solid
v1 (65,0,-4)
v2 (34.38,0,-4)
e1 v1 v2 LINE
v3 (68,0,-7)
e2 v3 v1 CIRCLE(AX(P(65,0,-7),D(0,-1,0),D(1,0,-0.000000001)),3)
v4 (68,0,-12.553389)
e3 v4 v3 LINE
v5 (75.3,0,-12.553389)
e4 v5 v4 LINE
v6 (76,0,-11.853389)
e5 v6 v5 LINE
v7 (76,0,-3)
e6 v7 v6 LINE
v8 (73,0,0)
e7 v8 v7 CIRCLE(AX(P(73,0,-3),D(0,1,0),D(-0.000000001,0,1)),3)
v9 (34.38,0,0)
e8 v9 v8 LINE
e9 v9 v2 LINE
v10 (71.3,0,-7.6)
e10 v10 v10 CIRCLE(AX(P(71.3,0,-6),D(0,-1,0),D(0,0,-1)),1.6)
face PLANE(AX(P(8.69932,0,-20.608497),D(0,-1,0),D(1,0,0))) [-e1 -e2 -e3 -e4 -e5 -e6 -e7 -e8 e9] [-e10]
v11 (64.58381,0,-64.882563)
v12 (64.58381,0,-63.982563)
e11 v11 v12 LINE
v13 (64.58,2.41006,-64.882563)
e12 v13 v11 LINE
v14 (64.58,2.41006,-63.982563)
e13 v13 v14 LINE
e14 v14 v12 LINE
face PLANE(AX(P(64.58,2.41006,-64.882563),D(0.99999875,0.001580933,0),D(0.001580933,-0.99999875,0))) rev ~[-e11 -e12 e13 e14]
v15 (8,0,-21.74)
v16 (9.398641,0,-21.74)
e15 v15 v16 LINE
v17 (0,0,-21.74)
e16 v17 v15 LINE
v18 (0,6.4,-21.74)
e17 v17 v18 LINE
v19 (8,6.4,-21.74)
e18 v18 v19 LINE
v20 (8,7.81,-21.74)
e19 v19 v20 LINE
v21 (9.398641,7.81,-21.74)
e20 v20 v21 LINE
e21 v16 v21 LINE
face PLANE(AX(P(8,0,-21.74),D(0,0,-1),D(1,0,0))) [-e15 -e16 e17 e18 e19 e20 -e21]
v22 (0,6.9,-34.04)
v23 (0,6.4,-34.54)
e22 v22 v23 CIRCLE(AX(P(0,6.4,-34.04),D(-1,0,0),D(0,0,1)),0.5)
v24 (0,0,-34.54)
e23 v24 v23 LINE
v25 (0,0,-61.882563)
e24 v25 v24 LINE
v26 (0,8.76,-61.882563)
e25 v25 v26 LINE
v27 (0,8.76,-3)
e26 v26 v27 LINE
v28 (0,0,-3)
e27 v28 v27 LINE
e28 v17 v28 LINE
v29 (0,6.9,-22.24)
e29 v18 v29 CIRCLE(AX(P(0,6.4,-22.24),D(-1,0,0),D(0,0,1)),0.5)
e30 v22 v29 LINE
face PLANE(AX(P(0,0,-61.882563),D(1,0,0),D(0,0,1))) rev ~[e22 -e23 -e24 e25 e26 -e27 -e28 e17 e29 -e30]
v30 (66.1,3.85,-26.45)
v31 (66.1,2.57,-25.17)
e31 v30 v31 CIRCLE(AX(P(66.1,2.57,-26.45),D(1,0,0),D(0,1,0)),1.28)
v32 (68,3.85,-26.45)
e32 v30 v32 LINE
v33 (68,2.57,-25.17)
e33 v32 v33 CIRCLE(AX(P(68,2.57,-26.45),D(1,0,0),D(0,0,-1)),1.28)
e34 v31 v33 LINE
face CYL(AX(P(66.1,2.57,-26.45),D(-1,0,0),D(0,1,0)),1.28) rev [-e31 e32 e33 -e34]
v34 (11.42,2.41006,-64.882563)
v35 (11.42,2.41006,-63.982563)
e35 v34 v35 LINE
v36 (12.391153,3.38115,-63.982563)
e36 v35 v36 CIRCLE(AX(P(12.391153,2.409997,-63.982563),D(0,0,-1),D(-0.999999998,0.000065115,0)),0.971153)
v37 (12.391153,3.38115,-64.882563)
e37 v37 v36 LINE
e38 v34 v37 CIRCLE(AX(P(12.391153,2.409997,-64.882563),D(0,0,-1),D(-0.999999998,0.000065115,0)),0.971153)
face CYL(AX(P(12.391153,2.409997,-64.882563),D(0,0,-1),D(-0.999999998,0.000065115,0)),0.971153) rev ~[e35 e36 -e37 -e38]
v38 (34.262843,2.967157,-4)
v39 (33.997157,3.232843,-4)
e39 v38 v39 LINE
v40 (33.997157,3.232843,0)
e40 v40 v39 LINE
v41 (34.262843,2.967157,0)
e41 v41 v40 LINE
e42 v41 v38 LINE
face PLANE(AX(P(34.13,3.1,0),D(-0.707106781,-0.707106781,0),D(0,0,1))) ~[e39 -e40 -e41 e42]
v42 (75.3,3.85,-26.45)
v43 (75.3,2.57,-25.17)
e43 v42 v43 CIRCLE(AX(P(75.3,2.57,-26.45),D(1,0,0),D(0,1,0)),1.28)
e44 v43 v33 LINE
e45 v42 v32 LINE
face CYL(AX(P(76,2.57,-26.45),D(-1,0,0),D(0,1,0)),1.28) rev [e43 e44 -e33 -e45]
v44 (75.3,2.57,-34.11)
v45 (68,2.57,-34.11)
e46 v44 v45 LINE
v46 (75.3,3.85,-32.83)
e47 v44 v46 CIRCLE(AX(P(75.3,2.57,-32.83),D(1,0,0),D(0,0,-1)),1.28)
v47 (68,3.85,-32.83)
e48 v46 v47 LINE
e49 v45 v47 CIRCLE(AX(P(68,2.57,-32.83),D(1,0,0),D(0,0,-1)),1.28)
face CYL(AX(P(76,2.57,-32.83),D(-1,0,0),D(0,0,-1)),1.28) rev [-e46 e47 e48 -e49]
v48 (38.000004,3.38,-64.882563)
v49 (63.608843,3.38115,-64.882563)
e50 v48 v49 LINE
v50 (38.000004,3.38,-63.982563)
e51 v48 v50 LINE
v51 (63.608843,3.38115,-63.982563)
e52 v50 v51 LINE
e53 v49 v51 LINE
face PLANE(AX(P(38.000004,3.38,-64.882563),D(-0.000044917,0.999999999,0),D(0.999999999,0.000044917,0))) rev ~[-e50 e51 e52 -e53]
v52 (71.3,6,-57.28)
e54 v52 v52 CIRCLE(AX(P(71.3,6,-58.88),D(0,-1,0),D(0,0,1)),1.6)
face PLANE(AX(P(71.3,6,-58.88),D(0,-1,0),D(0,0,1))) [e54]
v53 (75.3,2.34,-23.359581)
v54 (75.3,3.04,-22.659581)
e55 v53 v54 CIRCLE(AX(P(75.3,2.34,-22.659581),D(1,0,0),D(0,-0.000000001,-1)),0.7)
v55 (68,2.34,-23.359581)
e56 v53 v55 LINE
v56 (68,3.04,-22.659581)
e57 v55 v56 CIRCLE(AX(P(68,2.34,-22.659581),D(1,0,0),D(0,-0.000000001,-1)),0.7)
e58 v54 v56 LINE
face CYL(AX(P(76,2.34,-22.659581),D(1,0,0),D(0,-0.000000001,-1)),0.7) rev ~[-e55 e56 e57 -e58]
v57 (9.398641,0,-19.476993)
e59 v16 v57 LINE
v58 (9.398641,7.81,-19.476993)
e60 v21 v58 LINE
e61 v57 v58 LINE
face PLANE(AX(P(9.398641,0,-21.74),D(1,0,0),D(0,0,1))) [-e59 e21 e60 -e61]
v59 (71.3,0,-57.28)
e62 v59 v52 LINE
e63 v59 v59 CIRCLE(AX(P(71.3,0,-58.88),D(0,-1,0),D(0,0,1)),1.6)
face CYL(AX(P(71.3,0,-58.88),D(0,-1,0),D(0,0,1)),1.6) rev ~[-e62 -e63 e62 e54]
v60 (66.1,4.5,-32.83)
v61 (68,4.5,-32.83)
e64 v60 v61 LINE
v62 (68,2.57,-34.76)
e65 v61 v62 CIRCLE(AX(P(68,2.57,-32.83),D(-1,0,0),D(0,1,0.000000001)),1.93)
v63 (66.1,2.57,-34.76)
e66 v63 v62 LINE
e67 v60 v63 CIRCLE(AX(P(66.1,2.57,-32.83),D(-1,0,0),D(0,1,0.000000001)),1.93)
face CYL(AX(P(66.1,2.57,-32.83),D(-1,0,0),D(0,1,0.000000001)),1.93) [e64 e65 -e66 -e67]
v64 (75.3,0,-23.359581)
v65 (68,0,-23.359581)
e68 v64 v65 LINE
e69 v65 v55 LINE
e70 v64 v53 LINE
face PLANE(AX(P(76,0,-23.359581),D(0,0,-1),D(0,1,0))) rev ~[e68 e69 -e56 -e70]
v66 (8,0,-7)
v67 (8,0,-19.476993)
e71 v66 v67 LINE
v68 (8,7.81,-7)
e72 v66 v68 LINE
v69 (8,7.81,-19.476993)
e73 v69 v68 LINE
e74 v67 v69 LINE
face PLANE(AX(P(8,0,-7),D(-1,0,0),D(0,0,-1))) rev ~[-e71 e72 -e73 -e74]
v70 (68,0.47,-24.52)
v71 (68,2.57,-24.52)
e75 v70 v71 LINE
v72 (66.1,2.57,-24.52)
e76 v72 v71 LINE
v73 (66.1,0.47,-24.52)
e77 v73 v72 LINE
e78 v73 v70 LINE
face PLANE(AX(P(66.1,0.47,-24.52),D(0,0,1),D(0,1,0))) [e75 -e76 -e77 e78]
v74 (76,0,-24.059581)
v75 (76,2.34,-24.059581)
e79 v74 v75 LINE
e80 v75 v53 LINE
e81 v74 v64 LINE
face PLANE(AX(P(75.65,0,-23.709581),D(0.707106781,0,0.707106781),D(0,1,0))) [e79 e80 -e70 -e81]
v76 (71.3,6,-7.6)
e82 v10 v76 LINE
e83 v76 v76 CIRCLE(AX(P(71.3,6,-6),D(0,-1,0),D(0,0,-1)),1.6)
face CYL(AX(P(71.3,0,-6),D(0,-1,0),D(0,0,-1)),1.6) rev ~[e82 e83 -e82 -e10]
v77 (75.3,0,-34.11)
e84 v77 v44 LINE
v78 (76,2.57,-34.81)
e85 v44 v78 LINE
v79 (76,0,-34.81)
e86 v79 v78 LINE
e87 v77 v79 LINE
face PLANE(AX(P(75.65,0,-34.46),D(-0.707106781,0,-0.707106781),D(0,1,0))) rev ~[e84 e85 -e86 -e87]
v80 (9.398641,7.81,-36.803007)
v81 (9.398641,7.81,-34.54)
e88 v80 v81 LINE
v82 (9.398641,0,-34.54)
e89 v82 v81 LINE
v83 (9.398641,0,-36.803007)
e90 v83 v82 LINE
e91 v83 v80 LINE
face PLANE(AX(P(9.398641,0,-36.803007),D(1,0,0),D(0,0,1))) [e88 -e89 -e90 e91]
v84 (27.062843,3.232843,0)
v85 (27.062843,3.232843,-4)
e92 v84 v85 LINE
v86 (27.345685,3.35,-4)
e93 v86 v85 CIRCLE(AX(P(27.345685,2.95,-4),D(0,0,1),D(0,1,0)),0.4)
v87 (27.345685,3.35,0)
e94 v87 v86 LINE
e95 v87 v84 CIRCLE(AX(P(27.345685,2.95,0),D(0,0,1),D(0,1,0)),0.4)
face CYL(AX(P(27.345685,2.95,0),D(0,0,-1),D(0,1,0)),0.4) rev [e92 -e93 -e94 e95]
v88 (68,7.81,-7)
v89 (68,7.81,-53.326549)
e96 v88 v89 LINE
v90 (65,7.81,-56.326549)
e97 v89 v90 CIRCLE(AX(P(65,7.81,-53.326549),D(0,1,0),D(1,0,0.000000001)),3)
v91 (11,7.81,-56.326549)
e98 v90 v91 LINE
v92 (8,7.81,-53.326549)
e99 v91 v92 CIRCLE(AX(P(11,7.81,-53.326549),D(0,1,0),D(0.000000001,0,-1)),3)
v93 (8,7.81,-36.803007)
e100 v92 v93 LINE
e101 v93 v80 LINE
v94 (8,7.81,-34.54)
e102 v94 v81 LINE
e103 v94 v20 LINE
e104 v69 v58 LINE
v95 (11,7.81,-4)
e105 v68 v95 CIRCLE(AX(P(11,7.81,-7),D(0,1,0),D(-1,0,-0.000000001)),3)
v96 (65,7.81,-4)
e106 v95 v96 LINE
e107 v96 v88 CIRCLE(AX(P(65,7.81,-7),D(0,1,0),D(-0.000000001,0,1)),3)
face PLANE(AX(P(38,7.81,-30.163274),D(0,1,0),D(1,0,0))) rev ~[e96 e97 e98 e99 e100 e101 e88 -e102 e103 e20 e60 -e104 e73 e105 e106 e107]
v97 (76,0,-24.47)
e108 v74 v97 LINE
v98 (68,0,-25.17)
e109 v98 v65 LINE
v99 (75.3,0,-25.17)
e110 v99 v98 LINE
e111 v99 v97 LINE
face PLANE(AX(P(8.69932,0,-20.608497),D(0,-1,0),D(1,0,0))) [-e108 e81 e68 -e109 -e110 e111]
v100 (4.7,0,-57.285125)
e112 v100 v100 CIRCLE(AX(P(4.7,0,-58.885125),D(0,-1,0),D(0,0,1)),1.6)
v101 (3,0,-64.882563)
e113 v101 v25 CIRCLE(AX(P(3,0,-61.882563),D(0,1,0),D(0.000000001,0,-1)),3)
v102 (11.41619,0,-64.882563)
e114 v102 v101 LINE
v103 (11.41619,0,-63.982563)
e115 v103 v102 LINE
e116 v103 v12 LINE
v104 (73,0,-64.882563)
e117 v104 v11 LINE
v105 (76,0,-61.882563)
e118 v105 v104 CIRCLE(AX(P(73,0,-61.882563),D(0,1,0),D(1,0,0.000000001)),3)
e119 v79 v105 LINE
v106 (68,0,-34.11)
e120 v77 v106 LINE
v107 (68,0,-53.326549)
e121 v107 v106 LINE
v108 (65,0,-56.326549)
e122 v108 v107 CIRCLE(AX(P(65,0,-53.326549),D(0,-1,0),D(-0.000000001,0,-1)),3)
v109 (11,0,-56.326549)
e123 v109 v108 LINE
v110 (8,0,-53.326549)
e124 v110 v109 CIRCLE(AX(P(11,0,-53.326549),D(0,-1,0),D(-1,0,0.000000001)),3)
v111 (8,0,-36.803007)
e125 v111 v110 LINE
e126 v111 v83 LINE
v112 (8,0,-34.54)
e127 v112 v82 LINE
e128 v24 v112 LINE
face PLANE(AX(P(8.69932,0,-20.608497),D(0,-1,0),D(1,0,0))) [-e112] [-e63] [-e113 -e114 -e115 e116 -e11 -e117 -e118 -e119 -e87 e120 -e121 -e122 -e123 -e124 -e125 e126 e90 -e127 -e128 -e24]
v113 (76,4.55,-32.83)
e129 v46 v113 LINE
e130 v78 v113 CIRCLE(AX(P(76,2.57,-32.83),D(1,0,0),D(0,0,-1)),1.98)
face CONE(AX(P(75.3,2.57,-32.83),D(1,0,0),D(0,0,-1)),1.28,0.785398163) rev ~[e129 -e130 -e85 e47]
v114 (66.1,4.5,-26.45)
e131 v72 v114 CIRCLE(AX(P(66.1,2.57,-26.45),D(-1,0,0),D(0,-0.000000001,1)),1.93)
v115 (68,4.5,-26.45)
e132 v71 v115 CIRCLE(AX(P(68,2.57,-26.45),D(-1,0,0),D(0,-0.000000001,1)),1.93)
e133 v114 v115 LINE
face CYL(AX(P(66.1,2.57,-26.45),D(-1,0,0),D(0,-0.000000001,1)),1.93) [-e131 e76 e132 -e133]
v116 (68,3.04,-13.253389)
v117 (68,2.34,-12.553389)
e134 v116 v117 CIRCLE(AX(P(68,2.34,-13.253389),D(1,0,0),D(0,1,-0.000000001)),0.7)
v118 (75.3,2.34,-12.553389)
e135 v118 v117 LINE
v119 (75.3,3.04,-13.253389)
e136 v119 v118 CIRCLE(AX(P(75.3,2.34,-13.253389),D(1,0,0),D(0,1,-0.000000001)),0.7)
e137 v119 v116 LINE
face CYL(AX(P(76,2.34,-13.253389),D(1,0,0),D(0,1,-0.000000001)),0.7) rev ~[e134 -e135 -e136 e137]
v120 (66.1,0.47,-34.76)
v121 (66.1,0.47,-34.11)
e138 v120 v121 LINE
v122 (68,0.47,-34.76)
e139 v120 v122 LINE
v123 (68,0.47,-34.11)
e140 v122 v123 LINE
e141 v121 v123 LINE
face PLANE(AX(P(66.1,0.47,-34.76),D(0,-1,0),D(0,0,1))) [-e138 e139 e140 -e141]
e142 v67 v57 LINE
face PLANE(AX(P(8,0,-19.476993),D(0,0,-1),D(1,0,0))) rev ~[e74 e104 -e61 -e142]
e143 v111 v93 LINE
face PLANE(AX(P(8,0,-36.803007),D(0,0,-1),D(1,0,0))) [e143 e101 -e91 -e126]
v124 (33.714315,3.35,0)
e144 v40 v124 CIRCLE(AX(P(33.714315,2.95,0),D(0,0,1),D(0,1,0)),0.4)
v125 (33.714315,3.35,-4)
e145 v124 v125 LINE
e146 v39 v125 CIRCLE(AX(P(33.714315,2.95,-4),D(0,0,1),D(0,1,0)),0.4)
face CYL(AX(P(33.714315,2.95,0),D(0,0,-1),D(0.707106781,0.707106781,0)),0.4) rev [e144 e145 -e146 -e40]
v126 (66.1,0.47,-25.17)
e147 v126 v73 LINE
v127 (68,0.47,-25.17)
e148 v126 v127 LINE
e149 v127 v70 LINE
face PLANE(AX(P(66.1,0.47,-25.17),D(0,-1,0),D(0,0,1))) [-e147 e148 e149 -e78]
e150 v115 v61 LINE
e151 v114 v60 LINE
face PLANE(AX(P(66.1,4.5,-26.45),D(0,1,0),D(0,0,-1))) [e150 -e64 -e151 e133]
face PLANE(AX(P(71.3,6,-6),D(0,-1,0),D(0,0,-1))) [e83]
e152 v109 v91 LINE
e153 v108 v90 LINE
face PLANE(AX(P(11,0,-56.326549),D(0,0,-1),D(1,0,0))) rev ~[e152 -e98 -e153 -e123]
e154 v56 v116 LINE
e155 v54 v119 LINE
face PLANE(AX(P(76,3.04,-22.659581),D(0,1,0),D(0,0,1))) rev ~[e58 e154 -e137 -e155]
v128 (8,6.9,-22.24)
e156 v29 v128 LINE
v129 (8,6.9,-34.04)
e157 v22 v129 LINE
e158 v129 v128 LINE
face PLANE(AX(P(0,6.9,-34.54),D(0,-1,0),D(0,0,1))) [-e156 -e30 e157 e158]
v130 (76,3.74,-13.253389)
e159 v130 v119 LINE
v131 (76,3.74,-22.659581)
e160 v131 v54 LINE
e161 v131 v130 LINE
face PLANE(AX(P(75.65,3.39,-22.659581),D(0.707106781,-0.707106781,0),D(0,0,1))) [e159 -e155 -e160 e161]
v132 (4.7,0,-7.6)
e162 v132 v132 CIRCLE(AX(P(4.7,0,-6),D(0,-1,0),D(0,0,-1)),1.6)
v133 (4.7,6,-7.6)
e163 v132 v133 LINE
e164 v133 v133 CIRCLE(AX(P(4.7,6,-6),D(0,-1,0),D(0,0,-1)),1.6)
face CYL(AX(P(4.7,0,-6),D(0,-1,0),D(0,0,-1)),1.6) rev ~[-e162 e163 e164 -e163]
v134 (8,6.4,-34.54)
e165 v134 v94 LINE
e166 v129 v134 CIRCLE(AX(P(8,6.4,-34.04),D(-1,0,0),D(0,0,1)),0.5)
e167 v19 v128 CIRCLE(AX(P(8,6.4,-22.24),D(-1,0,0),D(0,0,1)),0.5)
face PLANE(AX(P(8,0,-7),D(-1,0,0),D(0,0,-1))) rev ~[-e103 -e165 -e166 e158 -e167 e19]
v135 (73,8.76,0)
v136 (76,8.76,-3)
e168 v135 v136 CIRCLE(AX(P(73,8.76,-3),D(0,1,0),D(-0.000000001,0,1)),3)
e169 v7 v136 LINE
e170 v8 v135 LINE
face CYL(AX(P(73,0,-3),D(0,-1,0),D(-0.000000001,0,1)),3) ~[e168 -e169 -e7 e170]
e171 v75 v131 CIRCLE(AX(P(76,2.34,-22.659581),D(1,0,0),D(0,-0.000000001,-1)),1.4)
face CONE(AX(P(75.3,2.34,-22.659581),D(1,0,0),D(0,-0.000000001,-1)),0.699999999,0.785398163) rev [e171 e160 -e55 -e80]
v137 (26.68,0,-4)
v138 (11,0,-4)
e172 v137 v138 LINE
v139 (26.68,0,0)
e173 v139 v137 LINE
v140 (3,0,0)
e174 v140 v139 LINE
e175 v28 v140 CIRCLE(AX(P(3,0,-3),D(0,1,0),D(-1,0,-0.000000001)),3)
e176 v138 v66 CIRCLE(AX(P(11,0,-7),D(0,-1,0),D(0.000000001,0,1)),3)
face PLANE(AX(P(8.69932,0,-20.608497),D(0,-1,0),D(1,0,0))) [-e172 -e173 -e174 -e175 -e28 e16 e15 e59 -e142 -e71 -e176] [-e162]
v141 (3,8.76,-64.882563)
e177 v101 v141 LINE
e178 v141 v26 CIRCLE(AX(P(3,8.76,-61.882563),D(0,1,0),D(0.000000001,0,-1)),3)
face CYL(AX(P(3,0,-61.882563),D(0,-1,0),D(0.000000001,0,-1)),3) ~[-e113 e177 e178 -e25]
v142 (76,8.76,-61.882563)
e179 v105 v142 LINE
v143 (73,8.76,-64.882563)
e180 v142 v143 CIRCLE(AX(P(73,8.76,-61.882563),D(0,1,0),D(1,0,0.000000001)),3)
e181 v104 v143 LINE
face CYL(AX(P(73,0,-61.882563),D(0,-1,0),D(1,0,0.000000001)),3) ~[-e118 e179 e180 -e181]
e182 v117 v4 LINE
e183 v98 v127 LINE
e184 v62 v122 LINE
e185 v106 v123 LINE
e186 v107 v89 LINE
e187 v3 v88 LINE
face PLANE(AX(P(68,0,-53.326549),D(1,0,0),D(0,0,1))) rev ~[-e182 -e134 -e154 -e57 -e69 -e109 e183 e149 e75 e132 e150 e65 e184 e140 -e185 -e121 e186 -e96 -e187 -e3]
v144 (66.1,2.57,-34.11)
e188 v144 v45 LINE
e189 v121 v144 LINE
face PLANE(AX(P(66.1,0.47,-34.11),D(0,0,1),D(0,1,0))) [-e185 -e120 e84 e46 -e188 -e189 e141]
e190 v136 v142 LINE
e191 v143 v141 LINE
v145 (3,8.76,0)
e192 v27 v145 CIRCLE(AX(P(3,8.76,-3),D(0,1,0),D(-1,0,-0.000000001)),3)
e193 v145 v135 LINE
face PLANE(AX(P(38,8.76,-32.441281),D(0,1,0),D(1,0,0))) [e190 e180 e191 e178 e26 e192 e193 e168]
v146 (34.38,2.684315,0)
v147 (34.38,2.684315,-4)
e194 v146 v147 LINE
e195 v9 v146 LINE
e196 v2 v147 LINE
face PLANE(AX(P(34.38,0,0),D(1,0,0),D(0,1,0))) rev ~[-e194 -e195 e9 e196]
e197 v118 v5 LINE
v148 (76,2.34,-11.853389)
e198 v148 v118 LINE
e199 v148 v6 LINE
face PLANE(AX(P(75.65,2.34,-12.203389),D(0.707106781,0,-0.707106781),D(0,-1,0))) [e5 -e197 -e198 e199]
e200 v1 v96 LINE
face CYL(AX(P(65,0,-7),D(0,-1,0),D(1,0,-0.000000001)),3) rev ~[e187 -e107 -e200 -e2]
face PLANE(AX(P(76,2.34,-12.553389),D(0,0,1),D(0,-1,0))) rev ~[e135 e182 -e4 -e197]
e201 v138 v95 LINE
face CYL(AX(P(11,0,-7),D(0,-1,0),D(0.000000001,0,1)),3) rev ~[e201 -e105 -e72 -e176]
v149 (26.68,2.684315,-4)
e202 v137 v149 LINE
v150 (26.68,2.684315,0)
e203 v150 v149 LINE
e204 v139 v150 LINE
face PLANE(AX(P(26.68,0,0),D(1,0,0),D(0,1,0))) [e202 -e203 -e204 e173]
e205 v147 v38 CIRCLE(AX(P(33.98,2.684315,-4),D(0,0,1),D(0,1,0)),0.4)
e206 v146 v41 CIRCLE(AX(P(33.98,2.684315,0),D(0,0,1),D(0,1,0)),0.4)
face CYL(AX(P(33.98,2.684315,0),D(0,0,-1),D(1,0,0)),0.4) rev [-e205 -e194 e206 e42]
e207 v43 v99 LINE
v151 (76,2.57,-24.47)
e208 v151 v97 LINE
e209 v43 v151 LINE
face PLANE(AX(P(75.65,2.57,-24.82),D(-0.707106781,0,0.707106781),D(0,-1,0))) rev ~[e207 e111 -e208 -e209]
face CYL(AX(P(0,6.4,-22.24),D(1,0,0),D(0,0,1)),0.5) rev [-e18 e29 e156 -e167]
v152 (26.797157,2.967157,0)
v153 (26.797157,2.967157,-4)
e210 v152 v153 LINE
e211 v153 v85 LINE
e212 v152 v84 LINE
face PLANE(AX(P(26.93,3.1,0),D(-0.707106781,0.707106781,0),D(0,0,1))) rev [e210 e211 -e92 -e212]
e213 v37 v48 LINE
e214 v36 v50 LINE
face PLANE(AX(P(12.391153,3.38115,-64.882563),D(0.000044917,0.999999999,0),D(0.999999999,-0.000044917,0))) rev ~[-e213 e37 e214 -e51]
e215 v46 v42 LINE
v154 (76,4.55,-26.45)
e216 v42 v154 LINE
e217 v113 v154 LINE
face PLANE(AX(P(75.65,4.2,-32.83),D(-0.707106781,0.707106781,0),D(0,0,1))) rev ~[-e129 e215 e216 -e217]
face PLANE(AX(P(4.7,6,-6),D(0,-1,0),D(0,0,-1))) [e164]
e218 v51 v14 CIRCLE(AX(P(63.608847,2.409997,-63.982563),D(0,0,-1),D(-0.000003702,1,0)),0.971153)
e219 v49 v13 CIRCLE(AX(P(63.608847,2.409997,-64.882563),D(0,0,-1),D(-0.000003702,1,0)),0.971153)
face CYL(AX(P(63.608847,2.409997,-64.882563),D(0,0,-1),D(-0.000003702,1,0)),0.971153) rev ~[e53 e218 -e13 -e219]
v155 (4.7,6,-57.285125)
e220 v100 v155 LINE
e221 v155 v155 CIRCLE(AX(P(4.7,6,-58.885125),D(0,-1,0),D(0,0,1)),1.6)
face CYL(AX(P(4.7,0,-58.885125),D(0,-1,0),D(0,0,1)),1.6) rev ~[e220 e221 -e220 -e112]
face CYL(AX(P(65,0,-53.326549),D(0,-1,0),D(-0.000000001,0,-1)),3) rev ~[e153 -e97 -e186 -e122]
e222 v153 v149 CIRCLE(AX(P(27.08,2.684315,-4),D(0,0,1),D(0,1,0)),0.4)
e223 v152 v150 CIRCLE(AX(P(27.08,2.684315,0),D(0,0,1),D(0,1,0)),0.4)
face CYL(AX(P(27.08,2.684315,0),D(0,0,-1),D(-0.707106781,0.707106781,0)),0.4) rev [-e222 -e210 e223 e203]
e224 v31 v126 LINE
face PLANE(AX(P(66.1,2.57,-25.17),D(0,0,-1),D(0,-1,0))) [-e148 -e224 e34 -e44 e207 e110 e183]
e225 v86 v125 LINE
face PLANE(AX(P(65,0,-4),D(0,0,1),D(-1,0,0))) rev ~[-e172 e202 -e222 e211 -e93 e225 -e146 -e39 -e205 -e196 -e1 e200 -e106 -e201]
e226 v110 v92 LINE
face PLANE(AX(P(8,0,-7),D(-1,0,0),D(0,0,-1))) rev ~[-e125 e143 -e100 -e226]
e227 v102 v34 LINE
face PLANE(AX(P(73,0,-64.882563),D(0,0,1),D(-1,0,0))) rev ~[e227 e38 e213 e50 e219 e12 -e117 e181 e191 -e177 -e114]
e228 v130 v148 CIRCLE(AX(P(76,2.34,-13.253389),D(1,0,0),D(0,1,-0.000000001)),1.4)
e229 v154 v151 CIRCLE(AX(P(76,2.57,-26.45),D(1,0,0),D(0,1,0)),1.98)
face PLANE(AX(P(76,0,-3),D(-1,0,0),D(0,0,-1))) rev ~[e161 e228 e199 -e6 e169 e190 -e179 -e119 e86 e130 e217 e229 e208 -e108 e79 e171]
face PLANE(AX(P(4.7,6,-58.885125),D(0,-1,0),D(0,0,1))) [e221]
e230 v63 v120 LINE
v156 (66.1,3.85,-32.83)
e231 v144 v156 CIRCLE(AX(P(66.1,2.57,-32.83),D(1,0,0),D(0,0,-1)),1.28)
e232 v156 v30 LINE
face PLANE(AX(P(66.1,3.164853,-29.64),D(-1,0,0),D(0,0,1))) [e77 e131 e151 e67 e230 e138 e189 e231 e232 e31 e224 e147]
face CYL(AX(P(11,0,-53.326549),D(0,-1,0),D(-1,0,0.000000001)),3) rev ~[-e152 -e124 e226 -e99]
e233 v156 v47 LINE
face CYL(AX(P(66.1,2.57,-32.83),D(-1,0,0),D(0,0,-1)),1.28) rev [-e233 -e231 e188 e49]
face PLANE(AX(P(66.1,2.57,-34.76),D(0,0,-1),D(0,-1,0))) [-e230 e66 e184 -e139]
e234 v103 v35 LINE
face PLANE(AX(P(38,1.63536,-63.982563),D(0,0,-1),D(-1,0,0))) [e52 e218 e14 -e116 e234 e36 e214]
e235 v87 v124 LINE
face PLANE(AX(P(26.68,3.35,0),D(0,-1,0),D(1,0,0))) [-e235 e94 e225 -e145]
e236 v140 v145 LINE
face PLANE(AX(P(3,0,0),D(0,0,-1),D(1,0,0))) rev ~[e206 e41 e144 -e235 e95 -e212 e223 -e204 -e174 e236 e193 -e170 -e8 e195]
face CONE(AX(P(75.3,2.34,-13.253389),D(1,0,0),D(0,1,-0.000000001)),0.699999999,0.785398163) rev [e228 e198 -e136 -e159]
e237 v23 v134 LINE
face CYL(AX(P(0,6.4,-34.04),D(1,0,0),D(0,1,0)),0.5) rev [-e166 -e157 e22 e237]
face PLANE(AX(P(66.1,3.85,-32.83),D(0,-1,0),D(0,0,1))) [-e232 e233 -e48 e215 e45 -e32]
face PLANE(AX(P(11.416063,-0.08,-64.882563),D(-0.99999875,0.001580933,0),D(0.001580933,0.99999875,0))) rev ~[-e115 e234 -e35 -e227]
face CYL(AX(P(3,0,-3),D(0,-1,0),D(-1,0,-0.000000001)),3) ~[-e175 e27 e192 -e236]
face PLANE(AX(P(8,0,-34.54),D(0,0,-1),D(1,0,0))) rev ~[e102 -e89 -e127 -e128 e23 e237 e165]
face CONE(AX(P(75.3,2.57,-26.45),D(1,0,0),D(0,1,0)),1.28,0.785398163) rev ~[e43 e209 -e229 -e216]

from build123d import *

# Parameters (mm, degrees)
BOSS_EXTRUDE1_DEPTH = 8.76
BOSS_EXTRUDE2_START = -0.95
BOSS_EXTRUDE2_DEPTH = 0.95
SKETCH4_W           = 12.8
SKETCH4_H           = 6.9
CUT_EXTRUDE1_DEPTH  = 8
SKETCH5_W           = 1.3986406
SKETCH5_H           = 2.263006611
BOSS_EXTRUDE3_DEPTH = 7.81
CUT_EXTRUDE2_DEPTH  = 8
FILLET1_R           = 0.5
SKETCH8_W           = 8.94
SKETCH8_H           = 3.85
CUT_EXTRUDE6_DEPTH  = 8
FILLET2_R           = 1.28
BOSS_EXTRUDE5_START = 1.9
BOSS_EXTRUDE5_DEPTH = 1.9
CHAMFER1_SIZE       = 0.7
SKETCH14_R          = 1.6
CUT_EXTRUDE10_DEPTH = 6
SKETCH16_R          = 1.6
CUT_EXTRUDE11_DEPTH = 6
CUT_EXTRUDE12_DEPTH = 0.9
SKETCH19_W          = 7.7
SKETCH19_H          = 3.35
CUT_EXTRUDE13_DEPTH = 4
CHAMFER2_SIZE       = 0.5
FILLET3_R           = 0.4


with BuildPart() as part:
    # Sketch1 → Boss-Extrude1 (new body)
    with BuildSketch(Plane(origin=(0, 0, 0), x_dir=(1, 0, 0), z_dir=(0, 1, 0))):
        with BuildLine():
            ThreePointArc((0, 3), (0.878679656, 0.878679656), (3, 0))
            Line((3, 0), (73, 0))
            ThreePointArc((73, 0), (75.121320344, 0.878679656), (76, 3))
            Line((76, 3), (76, 55.62))
            Line((76, 55.62), (76, 57.326548644))
            Line((76, 57.326548644), (76, 61.882562509))
            ThreePointArc((76, 61.882562509), (75.121320344, 64.003882853), (73, 64.882562509))
            Line((73, 64.882562509), (3, 64.882562509))
            ThreePointArc((3, 64.882562509), (0.878679656, 64.003882853), (0, 61.882562509))
            Line((0, 61.882562509), (0, 57.326548644))
            Line((0, 57.326548644), (0, 55.62))
            Line((0, 55.62), (0, 3))
        make_face()
        with BuildLine():
            Line((65, 4), (11, 4))
            ThreePointArc((11, 4), (8.878679656, 4.878679656), (8, 7))
            Line((8, 7), (8, 53.326548644))
            ThreePointArc((8, 53.326548644), (8.878679656, 55.447868988), (11, 56.326548644))
            Line((11, 56.326548644), (65, 56.326548644))
            ThreePointArc((65, 56.326548644), (67.121320344, 55.447868988), (68, 53.326548644))
            Line((68, 53.326548644), (68, 7))
            ThreePointArc((68, 7), (67.121320344, 4.878679656), (65, 4))
        make_face(mode=Mode.SUBTRACT)
    extrude(amount=BOSS_EXTRUDE1_DEPTH)

    # Sketch2 → Boss-Extrude2 (add)
    with BuildSketch(Plane(origin=(0, 8.76, 0), x_dir=(1, 0, 0), z_dir=(0, 1, 0)).offset(BOSS_EXTRUDE2_START)):
        with BuildLine():
            Line((8, 48.62), (8, 7))
            ThreePointArc((8, 7), (8.878679656, 4.878679656), (11, 4))
            Line((11, 4), (65, 4))
            ThreePointArc((65, 4), (67.121320344, 4.878679656), (68, 7))
            Line((68, 7), (68, 48.62))
            Line((68, 48.62), (68, 53.326548644))
            ThreePointArc((68, 53.326548644), (67.121320344, 55.447868988), (65, 56.326548644))
            Line((65, 56.326548644), (11, 56.326548644))
            ThreePointArc((11, 56.326548644), (8.878679656, 55.447868988), (8, 53.326548644))
            Line((8, 53.326548644), (8, 48.62))
        make_face()
    extrude(amount=BOSS_EXTRUDE2_DEPTH)

    # Sketch4 → Cut-Extrude1 (cut)
    with BuildSketch(Plane.ZY):
        with Locations((-28.14, 3.45)):
            Rectangle(SKETCH4_W, SKETCH4_H)
    extrude(amount=-CUT_EXTRUDE1_DEPTH, mode=Mode.SUBTRACT)

    # Sketch5 → Boss-Extrude3 (add)
    with BuildSketch(Plane.XZ):
        with Locations((8.6993203, -20.608496695)):
            Rectangle(SKETCH5_W, SKETCH5_H)
        with Locations((8.6993203, -35.671503305)):
            Rectangle(SKETCH5_W, SKETCH5_H)
    extrude(amount=-BOSS_EXTRUDE3_DEPTH)

    # Sketch6 → Cut-Extrude2 (cut)
    with BuildSketch(Plane(origin=(76, 0, 0), x_dir=(0, 0, -1), z_dir=(1, 0, 0))):
        with BuildLine():
            Line((12.55338903, 2.34), (12.55338903, 0))
            Line((12.55338903, 0), (23.359580852, 0))
            Line((23.359580852, 0), (23.359580852, 2.34))
            ThreePointArc((23.359580852, 2.34), (23.154555599, 2.834974747), (22.659580852, 3.04))
            Line((22.659580852, 3.04), (13.25338903, 3.04))
            ThreePointArc((13.25338903, 3.04), (12.758414283, 2.834974747), (12.55338903, 2.34))
        make_face()
    extrude(amount=-CUT_EXTRUDE2_DEPTH, mode=Mode.SUBTRACT)

    # Fillet1
    fillet1_edges = [part.edges().sort_by_distance(p)[0] for p in [
        (4, 6.9, -34.54),
        (4, 6.9, -21.74),
    ]]
    fillet(fillet1_edges, radius=FILLET1_R)

    # Sketch8 → Cut-Extrude6 (cut)
    with BuildSketch(Plane(origin=(76, 0, 0), x_dir=(0, 0, -1), z_dir=(1, 0, 0))):
        with Locations((29.64, 1.925)):
            Rectangle(SKETCH8_W, SKETCH8_H)
    extrude(amount=-CUT_EXTRUDE6_DEPTH, mode=Mode.SUBTRACT)

    # Fillet2
    fillet2_edges = [part.edges().sort_by_distance(p)[0] for p in [
        (72, 3.85, -34.11),
        (72, 3.85, -25.17),
    ]]
    fillet(fillet2_edges, radius=FILLET2_R)

    # Sketch9 → Boss-Extrude5 (add)
    with BuildSketch(Plane.ZY.offset(-68).offset(BOSS_EXTRUDE5_START)):
        with BuildLine():
            Line((-34.11, 0.47), (-34.11, 2.57))
            ThreePointArc((-34.11, 2.57), (-33.73509668, 3.47509668), (-32.83, 3.85))
            Line((-32.83, 3.85), (-26.45, 3.85))
            ThreePointArc((-26.45, 3.85), (-25.54490332, 3.47509668), (-25.17, 2.57))
            Line((-25.17, 2.57), (-25.17, 0.47))
            Line((-25.17, 0.47), (-24.52, 0.47))
            Line((-24.52, 0.47), (-24.52, 2.57))
            ThreePointArc((-24.52, 2.57), (-25.085283912, 3.934716088), (-26.45, 4.5))
            Line((-26.45, 4.5), (-32.83, 4.5))
            ThreePointArc((-32.83, 4.5), (-34.194716088, 3.934716088), (-34.76, 2.57))
            Line((-34.76, 2.57), (-34.76, 0.47))
            Line((-34.76, 0.47), (-34.11, 0.47))
        make_face()
    extrude(amount=-BOSS_EXTRUDE5_DEPTH)

    # Chamfer1
    chamfer1_edges = [part.edges().sort_by_distance(p)[0] for p in [
        (76, 1.17, -23.359580852),
        (76, 2.834974747, -23.154555599),
        (76, 3.04, -17.956484941),
        (76, 2.834974747, -12.758414283),
        (76, 1.17, -12.55338903),
        (76, 1.285, -34.11),
        (76, 3.85, -29.64),
        (76, 1.285, -25.17),
        (76, 3.47509668, -33.73509668),
        (76, 3.47509668, -25.54490332),
    ]]
    chamfer(chamfer1_edges, length=CHAMFER1_SIZE)

    # Sketch14 → Cut-Extrude10 (cut)
    with BuildSketch(Plane(origin=(0, 0, 0), x_dir=(-1, 0, 0), z_dir=(0, -1, 0))):
        with Locations(Location((-4.7, 6, 0), (0, 0, 90))):
            Circle(SKETCH14_R)
        with Locations(Location((-4.7, 58.885125018, 0), (0, 0, 270))):
            Circle(SKETCH14_R)
    extrude(amount=-CUT_EXTRUDE10_DEPTH, mode=Mode.SUBTRACT)

    # Sketch16 → Cut-Extrude11 (cut)
    with BuildSketch(Plane(origin=(0, 0, 0), x_dir=(-1, 0, 0), z_dir=(0, -1, 0))):
        with Locations(Location((-71.3, 6, 0), (0, 0, 90))):
            Circle(SKETCH16_R)
        with Locations(Location((-71.3, 58.88, 0), (0, 0, 270))):
            Circle(SKETCH16_R)
    extrude(amount=-CUT_EXTRUDE11_DEPTH, mode=Mode.SUBTRACT)

    # Sketch18 → Cut-Extrude12 (cut)
    with BuildSketch(Plane(origin=(0, 0, -64.882562509), x_dir=(-1, 0, 0), z_dir=(0, 0, -1))):
        with BuildLine():
            Line((-64.583936573, -0.08), (-11.416063427, -0.08))
            Line((-11.416063427, -0.08), (-11.42000005, 2.410060225))
            ThreePointArc((-11.42000005, 2.410060225), (-11.704466584, 3.096728386), (-12.391153239, 3.381150275))
            Line((-12.391153239, 3.381150275), (-38.000003545, 3.38))
            Line((-38.000003545, 3.38), (-63.608843072, 3.381150275))
            ThreePointArc((-63.608843072, 3.381150275), (-64.295532112, 3.096729691), (-64.57999995, 2.410060225))
            Line((-64.57999995, 2.410060225), (-64.583936573, -0.08))
        make_face()
    extrude(amount=-CUT_EXTRUDE12_DEPTH, mode=Mode.SUBTRACT)

    # Sketch19 → Cut-Extrude13 (cut)
    with BuildSketch(Plane.XY):
        with Locations((30.53, 1.675)):
            Rectangle(SKETCH19_W, SKETCH19_H)
    extrude(amount=-CUT_EXTRUDE13_DEPTH, mode=Mode.SUBTRACT)

    # Chamfer2
    chamfer2_edges = [part.edges().sort_by_distance(p)[0] for p in [
        (34.38, 3.35, -2),
        (26.68, 3.35, -2),
    ]]
    chamfer(chamfer2_edges, length=CHAMFER2_SIZE)

    # Fillet3
    fillet3_edges = [part.edges().sort_by_distance(p)[0] for p in [
        (27.18, 3.35, -2),
        (33.88, 3.35, -2),
        (34.38, 2.85, -2),
        (26.68, 2.85, -2),
    ]]
    fillet(fillet3_edges, radius=FILLET3_R)


solid = part.part
